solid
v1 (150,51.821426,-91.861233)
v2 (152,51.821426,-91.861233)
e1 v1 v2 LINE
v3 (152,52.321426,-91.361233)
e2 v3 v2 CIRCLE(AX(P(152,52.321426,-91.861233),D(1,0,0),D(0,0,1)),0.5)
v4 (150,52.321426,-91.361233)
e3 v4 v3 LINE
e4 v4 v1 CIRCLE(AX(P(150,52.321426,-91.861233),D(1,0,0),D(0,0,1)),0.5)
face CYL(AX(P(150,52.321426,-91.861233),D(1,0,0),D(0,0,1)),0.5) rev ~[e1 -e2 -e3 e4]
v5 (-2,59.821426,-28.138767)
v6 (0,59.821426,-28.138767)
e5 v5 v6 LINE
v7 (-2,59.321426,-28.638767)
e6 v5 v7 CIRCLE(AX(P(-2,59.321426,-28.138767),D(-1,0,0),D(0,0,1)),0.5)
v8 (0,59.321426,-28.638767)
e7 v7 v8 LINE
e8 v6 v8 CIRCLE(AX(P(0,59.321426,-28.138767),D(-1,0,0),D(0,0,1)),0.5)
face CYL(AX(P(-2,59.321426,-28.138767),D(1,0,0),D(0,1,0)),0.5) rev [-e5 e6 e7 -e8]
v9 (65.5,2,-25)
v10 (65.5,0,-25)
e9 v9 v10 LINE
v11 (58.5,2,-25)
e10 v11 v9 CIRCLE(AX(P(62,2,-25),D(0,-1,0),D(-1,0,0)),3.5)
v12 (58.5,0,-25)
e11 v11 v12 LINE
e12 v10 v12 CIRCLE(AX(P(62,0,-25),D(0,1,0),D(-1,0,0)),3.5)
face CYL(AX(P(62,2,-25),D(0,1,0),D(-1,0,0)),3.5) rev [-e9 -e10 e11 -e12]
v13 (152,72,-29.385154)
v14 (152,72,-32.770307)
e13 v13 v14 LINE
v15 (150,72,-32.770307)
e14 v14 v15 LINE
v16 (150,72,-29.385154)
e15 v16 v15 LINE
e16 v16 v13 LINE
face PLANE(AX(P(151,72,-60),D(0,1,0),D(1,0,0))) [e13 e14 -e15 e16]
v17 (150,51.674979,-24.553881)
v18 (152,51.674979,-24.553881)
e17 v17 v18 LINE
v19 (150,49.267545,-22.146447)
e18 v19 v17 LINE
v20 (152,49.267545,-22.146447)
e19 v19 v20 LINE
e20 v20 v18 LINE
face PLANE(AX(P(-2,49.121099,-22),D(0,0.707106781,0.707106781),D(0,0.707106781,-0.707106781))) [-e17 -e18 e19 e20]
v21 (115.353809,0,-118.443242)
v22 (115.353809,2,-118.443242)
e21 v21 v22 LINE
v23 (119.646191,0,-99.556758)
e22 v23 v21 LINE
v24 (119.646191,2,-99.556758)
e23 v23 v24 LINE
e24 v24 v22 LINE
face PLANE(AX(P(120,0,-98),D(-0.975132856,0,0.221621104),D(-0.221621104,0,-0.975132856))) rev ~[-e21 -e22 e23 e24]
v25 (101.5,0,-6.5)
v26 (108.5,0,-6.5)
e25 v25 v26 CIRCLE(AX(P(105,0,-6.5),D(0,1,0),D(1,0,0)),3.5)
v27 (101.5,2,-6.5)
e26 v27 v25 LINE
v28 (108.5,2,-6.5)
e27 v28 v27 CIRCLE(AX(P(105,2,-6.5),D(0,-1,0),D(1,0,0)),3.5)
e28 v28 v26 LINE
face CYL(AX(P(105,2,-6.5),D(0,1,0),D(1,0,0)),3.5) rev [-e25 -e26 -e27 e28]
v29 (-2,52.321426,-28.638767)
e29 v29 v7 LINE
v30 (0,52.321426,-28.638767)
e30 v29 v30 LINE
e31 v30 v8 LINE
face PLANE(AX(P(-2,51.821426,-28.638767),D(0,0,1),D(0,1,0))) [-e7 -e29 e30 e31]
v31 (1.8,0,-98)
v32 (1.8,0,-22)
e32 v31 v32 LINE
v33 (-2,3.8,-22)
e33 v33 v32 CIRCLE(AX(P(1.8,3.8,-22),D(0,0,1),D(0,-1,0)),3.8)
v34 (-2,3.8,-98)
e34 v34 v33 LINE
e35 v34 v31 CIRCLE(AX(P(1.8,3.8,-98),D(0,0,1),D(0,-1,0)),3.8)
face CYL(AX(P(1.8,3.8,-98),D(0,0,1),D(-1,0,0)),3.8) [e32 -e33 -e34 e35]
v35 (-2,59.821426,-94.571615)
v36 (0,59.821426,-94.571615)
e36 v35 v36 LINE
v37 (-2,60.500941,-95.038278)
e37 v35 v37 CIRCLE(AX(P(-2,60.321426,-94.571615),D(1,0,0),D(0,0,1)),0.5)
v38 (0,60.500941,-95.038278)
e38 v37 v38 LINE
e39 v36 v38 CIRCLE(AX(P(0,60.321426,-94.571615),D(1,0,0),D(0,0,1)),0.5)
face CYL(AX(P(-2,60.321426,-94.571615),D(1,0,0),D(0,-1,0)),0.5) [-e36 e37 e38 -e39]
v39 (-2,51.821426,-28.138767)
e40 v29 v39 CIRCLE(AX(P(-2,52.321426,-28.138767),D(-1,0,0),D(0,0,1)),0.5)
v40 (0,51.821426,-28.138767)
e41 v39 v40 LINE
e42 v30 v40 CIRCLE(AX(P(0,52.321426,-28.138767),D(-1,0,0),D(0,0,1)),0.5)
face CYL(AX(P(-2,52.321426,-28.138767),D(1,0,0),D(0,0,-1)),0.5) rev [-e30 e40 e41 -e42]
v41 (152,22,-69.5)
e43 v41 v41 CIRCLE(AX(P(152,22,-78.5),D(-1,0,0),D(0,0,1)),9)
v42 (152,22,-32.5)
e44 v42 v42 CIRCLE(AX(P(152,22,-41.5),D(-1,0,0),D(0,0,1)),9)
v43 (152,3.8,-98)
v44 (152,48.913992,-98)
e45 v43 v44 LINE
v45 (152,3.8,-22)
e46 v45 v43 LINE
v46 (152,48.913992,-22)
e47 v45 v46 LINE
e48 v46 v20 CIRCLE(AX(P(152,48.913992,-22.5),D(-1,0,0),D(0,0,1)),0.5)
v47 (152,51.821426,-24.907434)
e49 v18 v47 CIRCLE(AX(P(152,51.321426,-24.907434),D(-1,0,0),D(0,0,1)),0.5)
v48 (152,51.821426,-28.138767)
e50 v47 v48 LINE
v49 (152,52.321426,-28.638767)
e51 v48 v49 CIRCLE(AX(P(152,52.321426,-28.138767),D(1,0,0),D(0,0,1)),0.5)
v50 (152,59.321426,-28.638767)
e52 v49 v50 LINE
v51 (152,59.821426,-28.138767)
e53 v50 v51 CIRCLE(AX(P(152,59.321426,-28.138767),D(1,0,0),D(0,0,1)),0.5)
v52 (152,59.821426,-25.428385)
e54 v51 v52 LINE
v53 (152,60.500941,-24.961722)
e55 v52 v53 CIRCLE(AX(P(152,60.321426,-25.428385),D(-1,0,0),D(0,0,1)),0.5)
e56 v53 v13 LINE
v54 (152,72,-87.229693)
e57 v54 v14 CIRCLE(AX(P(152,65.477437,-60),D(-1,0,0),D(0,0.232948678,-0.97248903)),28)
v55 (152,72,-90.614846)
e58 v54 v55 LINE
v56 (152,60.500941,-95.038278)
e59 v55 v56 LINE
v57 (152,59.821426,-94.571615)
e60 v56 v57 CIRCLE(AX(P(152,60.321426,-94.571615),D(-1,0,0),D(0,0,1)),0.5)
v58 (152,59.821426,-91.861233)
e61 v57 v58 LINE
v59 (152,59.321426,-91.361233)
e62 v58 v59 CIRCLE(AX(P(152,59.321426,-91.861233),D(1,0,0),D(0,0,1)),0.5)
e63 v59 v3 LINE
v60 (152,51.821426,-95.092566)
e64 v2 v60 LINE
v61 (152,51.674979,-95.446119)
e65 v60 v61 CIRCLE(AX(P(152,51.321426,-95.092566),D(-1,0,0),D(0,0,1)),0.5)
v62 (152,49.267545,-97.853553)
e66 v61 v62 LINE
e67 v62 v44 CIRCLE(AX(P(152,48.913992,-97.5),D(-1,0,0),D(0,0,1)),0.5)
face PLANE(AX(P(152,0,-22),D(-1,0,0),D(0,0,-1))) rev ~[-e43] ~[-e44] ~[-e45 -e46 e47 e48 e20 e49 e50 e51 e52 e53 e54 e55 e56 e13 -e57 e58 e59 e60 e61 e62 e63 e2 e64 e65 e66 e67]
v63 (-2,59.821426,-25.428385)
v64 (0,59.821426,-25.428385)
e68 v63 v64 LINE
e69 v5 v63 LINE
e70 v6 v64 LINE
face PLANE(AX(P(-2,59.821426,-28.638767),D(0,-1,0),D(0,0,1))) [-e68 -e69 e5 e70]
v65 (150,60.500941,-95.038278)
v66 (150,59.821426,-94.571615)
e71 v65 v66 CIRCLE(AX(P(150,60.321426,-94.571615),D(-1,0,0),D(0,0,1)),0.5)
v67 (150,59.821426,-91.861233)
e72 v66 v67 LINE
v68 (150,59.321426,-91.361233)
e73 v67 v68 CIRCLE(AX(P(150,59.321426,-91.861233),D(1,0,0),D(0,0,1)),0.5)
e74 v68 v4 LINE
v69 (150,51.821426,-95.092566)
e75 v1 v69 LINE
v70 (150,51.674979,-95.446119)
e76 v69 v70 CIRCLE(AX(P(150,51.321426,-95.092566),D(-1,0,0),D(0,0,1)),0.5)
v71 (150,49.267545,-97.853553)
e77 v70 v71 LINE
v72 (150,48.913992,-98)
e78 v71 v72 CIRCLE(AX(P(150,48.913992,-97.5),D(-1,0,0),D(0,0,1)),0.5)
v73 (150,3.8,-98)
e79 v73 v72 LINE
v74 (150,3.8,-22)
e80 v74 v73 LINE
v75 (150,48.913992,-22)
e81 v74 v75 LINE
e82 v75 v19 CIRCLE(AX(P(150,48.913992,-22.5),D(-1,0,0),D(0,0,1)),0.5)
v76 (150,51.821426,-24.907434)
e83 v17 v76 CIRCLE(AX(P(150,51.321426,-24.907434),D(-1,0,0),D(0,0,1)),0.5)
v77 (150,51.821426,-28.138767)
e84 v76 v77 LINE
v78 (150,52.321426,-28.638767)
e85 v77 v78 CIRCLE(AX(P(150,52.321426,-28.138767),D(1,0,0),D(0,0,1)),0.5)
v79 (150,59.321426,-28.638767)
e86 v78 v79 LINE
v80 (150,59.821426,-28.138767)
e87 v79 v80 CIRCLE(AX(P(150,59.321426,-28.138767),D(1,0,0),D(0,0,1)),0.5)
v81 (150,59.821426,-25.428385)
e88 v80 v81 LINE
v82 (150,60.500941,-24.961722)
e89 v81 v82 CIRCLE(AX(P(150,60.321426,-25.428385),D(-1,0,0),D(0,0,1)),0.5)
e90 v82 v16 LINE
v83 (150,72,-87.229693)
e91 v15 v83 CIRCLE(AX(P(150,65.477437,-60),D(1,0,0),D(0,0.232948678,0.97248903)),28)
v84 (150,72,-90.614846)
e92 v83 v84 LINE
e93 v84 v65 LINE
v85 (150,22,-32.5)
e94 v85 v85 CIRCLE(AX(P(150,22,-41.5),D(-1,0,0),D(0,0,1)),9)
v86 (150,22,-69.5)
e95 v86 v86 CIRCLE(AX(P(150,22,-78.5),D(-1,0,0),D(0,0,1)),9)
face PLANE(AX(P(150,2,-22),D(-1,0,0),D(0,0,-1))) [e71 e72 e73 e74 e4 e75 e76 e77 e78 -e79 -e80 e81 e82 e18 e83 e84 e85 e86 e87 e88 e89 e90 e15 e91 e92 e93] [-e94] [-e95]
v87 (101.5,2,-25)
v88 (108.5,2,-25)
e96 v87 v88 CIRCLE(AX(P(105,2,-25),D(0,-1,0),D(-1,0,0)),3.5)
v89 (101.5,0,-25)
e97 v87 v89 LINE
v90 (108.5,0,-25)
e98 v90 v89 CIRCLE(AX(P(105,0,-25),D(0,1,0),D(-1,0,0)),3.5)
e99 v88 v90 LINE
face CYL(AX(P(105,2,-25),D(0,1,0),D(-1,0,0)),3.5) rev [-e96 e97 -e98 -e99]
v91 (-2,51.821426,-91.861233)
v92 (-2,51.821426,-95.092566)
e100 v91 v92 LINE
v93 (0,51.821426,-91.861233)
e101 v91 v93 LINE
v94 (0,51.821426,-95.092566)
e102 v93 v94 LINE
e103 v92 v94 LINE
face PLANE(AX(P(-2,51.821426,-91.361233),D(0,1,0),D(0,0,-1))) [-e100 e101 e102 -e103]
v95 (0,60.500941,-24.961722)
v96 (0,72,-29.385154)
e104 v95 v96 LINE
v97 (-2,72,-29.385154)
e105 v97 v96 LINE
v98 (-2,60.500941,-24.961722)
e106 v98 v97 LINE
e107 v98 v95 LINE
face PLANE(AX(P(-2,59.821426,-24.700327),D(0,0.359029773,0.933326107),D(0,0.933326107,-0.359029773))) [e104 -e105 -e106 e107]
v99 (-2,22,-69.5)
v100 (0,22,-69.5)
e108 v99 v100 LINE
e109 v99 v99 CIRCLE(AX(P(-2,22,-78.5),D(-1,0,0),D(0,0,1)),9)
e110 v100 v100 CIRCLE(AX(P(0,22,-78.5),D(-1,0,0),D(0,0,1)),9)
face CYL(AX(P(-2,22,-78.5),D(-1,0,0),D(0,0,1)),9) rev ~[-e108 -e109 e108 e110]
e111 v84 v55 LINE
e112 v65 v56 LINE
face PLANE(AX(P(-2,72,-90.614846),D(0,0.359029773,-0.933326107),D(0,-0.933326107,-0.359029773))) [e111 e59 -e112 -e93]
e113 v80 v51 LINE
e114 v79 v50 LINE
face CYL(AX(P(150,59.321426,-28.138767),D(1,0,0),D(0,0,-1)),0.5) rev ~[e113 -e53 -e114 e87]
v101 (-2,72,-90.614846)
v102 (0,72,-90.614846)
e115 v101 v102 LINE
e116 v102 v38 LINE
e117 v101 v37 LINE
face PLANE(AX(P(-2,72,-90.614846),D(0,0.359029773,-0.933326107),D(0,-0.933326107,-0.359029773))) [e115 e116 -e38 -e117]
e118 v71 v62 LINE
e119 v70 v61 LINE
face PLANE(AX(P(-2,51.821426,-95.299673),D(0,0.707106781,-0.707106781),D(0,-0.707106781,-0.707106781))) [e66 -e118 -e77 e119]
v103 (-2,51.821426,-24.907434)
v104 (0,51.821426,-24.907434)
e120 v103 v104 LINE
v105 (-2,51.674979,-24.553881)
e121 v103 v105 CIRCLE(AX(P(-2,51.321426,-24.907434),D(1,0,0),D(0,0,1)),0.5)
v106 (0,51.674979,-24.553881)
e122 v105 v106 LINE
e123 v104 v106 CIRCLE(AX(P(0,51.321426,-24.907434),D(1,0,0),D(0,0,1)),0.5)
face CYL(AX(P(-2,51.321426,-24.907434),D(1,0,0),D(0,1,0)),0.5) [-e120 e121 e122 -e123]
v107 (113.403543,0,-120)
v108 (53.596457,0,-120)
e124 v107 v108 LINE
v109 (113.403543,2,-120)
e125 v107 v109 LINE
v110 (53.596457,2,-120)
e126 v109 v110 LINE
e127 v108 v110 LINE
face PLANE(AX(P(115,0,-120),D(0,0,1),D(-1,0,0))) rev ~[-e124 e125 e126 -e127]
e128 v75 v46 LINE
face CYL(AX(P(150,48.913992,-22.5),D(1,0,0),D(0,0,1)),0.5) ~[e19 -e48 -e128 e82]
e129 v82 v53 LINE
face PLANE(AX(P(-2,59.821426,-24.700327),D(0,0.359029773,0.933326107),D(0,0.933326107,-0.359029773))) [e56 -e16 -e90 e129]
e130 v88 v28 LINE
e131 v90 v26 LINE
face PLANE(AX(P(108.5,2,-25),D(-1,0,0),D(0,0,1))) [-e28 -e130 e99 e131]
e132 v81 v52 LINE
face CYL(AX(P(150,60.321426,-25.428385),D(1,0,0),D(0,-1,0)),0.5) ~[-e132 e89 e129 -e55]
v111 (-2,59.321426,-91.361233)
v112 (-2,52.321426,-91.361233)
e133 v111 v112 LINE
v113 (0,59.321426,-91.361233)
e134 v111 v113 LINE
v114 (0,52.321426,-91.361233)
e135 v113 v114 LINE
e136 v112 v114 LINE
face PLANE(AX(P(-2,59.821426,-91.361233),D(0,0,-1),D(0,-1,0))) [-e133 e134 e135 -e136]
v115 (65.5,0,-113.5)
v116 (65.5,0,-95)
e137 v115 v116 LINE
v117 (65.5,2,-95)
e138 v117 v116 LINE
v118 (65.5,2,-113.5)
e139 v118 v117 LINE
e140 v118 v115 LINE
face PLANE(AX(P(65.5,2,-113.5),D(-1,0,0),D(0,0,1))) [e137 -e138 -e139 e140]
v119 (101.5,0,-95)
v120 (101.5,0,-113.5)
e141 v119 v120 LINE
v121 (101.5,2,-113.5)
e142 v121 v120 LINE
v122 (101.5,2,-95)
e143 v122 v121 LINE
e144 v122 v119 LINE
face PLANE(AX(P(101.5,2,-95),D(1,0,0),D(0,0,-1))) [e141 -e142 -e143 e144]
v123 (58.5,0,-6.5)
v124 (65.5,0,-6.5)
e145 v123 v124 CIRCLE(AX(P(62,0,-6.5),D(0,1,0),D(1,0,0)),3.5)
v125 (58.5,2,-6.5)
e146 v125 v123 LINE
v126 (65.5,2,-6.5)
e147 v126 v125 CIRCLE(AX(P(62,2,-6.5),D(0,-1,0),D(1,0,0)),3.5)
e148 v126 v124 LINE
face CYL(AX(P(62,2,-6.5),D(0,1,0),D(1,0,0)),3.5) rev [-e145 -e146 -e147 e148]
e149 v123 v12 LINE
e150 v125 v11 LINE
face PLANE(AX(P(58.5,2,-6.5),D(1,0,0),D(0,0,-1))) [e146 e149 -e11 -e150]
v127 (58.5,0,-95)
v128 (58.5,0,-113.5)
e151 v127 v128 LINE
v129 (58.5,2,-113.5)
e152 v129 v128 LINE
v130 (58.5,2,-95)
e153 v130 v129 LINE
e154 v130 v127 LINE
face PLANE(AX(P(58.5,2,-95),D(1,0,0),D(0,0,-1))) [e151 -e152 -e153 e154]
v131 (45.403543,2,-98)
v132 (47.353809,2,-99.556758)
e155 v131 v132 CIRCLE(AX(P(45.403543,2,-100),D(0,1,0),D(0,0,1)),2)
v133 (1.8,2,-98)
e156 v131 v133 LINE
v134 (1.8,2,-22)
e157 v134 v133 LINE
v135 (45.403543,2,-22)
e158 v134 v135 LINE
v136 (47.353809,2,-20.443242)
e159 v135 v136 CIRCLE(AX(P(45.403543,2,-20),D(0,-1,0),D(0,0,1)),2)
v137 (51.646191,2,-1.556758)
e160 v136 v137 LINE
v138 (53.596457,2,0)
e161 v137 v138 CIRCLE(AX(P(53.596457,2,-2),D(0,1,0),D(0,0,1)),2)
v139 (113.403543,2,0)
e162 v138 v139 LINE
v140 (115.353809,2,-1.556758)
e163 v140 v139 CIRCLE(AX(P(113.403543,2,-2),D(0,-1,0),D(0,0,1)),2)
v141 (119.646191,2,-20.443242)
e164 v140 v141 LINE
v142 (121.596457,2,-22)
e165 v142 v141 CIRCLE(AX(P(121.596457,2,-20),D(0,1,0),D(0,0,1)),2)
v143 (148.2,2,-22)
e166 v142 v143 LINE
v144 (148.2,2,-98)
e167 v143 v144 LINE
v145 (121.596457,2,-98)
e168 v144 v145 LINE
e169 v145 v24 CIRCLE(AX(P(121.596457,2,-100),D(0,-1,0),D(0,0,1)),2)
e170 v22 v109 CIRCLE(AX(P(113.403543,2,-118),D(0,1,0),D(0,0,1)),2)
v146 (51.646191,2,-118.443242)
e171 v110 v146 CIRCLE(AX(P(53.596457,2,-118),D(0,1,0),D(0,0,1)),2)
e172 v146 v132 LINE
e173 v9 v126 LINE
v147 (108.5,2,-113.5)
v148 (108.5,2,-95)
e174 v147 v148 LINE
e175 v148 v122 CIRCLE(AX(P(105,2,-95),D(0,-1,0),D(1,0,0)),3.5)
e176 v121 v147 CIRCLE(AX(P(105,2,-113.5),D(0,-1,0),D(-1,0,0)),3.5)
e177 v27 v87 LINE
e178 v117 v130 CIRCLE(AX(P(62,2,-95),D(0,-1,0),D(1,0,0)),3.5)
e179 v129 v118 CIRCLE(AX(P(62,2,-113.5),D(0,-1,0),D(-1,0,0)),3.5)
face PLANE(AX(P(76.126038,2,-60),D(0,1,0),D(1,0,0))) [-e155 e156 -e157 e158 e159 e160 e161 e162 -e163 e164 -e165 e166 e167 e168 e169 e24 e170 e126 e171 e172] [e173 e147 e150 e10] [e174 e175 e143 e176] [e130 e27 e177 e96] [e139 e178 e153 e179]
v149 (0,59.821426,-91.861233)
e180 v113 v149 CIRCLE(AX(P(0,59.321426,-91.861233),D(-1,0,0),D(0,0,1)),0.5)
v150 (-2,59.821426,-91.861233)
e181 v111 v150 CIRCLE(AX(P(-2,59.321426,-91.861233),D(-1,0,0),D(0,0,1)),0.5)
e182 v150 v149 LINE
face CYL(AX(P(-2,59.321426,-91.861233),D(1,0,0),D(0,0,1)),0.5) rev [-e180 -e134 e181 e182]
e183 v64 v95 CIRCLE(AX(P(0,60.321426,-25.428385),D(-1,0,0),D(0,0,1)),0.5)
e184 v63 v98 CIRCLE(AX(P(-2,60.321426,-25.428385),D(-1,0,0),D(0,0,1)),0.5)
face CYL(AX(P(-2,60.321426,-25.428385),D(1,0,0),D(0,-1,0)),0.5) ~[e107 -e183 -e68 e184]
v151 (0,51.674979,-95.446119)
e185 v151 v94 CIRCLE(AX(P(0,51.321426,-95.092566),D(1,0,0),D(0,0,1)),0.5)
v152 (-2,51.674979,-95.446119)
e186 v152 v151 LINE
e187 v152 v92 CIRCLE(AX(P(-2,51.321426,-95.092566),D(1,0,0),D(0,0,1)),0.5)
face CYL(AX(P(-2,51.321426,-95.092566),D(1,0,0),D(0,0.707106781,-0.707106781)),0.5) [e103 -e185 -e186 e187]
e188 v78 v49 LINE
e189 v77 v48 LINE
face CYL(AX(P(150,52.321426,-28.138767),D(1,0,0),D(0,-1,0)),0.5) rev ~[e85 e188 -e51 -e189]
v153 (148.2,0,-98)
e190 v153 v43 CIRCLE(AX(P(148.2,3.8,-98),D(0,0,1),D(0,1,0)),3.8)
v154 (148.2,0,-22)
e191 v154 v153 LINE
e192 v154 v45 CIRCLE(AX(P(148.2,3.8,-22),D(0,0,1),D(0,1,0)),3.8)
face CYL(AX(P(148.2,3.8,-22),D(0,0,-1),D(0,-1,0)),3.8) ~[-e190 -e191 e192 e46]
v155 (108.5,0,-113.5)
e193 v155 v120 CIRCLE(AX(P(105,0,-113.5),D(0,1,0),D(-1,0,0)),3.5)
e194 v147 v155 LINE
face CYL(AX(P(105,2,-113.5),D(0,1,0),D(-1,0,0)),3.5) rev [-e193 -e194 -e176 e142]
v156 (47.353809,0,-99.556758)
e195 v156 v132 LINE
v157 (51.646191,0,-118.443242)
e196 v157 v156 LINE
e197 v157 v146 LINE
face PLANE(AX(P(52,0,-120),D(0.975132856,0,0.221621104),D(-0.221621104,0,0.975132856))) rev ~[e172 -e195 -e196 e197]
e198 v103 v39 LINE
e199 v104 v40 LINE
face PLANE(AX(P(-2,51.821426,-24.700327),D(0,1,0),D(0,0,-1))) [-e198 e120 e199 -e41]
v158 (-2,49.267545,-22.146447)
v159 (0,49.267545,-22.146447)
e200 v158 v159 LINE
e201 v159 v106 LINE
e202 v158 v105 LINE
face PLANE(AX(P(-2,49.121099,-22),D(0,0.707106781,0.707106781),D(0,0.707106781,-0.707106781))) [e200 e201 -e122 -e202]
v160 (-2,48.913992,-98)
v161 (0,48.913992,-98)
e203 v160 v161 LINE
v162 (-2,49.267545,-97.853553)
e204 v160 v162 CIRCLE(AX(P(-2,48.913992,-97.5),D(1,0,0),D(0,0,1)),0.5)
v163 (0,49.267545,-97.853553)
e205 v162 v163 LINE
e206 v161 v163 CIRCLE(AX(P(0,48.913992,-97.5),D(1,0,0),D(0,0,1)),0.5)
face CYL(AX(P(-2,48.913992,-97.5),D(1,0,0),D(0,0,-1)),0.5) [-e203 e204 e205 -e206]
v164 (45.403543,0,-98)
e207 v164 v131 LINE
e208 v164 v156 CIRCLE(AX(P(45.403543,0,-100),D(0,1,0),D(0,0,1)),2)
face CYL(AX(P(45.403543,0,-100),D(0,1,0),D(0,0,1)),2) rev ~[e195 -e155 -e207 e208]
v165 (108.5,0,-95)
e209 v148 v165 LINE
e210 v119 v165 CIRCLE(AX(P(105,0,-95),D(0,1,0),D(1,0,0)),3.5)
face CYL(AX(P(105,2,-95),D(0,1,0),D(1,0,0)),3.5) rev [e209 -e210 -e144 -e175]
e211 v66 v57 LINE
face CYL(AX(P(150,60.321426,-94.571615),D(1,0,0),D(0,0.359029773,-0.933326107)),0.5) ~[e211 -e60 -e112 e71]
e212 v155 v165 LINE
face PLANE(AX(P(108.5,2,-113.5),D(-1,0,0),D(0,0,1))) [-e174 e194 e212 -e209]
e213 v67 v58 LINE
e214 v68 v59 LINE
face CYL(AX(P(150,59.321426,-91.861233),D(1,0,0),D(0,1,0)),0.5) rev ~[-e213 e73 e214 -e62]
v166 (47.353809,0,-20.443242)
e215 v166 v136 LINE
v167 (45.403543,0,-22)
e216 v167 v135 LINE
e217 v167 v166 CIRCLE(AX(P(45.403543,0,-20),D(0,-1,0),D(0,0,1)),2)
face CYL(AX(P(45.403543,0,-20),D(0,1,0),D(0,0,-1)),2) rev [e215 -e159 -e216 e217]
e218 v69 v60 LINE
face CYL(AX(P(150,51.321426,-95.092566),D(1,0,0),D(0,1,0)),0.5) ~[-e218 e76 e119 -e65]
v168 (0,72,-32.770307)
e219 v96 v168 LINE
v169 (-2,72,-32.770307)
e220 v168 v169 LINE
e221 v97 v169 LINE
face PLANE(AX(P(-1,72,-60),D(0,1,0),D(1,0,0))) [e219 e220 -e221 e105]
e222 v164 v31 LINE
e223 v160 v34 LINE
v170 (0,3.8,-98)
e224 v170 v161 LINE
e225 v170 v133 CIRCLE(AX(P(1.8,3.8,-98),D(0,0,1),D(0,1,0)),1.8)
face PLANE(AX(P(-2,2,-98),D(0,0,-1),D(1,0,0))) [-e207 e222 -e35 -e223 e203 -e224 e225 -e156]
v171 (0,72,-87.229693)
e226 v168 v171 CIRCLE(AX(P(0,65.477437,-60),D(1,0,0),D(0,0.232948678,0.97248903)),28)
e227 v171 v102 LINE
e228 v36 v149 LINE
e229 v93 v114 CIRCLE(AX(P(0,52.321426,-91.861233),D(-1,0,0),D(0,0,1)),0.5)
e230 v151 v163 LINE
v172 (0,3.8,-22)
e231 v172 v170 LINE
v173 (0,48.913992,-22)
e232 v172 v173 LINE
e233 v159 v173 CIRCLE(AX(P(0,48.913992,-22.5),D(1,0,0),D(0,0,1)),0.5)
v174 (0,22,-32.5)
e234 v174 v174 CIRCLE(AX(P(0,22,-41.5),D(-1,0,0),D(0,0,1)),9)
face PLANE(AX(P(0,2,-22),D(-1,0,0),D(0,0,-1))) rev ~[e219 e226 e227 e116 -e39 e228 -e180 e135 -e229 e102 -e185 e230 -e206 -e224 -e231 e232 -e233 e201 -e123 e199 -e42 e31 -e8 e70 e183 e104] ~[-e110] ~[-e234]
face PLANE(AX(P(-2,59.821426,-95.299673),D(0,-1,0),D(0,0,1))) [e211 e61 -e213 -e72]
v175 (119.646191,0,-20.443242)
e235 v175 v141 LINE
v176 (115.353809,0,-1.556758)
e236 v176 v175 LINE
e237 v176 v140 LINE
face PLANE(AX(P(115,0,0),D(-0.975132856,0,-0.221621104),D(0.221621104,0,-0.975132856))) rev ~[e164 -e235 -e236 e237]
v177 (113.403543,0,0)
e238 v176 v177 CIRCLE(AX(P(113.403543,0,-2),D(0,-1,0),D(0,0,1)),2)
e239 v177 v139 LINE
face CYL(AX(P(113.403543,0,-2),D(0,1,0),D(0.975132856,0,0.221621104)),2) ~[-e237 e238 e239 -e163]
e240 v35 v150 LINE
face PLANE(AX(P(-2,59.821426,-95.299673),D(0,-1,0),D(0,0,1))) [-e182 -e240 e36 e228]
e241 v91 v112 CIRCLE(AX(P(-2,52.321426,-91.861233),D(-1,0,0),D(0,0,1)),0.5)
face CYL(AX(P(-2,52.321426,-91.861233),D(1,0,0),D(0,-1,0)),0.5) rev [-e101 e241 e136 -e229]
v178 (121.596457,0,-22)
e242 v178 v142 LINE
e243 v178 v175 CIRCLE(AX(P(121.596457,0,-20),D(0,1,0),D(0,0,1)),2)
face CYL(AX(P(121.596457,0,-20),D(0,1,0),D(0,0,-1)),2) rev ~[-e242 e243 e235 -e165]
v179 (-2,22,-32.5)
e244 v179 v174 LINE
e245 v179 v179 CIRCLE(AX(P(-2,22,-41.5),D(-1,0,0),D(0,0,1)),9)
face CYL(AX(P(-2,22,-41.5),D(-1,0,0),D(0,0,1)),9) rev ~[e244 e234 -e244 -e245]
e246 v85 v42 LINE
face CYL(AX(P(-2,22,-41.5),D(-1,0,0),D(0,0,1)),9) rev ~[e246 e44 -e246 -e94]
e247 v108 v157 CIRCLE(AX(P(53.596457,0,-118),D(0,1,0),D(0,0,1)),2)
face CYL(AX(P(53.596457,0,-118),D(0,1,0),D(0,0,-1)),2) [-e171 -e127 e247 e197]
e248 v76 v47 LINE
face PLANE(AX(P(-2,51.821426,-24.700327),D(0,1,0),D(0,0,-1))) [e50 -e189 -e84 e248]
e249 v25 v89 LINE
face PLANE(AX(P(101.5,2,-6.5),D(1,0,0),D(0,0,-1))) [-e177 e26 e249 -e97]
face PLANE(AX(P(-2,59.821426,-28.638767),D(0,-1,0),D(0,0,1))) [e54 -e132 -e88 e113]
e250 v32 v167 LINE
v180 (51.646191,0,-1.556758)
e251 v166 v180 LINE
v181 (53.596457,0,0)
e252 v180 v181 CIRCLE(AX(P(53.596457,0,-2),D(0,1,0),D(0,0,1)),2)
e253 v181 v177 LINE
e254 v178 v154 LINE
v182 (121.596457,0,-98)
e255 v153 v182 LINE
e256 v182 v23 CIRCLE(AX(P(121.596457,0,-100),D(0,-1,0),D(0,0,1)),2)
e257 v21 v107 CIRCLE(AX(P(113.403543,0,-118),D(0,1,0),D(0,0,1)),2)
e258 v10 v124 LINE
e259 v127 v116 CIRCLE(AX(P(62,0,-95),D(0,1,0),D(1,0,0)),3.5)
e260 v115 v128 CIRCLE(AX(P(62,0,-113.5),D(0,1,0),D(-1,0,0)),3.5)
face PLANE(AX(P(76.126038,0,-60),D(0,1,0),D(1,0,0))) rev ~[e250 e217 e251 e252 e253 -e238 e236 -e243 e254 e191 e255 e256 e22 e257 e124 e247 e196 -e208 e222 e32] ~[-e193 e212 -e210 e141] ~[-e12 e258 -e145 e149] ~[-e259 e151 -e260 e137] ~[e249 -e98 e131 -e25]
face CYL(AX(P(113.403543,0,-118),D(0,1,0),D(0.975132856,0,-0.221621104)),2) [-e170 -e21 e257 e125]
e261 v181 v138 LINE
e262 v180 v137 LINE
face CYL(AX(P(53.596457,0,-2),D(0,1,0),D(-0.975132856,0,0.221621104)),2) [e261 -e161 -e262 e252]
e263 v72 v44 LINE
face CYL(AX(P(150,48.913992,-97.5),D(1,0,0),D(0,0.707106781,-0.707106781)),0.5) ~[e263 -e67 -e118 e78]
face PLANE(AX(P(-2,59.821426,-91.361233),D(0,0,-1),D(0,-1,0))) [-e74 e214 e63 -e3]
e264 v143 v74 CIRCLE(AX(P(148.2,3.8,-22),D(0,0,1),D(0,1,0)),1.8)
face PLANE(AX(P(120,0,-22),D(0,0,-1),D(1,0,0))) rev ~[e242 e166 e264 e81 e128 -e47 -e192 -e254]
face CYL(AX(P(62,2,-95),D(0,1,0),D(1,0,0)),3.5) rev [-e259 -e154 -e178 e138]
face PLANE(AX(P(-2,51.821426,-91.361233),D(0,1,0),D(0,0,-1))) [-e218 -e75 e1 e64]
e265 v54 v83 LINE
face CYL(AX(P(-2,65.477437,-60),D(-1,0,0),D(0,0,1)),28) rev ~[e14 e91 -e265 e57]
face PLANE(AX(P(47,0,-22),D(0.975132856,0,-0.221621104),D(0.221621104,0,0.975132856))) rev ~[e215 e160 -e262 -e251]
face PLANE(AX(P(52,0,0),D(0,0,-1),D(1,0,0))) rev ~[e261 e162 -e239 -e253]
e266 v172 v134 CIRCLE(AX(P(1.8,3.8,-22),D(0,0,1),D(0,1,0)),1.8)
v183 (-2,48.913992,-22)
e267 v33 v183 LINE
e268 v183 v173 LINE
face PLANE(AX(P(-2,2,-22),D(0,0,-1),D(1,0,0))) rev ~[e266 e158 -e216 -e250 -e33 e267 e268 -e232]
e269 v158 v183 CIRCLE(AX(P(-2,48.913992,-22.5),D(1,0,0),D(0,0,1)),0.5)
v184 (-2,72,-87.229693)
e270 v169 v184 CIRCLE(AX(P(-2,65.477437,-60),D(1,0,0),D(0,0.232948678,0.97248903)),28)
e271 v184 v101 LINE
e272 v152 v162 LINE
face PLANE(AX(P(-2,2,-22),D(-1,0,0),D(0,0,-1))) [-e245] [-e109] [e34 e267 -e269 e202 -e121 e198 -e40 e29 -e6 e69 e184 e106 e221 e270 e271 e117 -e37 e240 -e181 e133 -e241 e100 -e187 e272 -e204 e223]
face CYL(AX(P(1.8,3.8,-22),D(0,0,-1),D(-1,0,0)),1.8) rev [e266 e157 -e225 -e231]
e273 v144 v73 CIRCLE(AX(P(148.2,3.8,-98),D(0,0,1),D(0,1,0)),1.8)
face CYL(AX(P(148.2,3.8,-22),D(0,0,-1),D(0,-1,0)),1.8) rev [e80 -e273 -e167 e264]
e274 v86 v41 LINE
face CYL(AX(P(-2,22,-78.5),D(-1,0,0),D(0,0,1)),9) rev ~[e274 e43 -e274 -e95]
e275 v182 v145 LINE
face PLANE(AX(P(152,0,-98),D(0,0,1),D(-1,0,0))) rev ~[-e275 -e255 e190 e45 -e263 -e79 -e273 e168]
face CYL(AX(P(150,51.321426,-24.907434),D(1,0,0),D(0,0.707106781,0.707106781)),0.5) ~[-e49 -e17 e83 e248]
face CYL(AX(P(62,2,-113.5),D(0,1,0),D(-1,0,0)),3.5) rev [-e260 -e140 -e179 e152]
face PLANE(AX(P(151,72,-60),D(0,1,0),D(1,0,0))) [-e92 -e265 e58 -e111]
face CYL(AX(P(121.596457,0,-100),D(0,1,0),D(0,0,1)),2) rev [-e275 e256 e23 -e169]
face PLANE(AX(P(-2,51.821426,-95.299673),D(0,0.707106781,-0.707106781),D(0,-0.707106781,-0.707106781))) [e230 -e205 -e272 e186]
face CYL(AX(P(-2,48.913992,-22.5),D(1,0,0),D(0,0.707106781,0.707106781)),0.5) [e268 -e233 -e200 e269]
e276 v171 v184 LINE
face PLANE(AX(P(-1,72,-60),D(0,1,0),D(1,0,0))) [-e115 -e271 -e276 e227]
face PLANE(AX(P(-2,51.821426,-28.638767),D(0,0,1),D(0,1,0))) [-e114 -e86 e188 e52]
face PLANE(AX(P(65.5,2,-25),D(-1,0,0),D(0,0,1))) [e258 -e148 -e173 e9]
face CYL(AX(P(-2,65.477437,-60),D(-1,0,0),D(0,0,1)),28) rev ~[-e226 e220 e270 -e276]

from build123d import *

# Parameters (mm, degrees)
EXTRUDE_1_DEPTH     = 2
SKETCH_3_W          = 2
SKETCH_3_H          = 76
EXTRUDE_2_DEPTH     = 70
SKETCH_5_R          = 28
CUT_EXTRUDE_1_DEPTH = 209.086520467
FILLET_1_R          = 0.5
FILLET_2_R          = 1.8
FILLET_3_R          = 3.8
FILLET_4_R          = 2
SKETCH_6_R          = 9
CUT_EXTRUDE_2_DEPTH = 209.086520467
CUT_EXTRUDE_3_DEPTH = 10


with BuildPart() as part:
    # Эскиз1 → Бобышка-Вытянуть1 (new body)
    with BuildSketch(Plane(origin=(0, 0, 0), x_dir=(1, 0, 0), z_dir=(0, 1, 0))):
        Polygon((52, 0), (115, 0), (120, 22), (152, 22), (152, 98), (120, 98), (115, 120), (52, 120), (47, 98), (-2, 98), (-2, 22), (47, 22), align=None)
    extrude(amount=EXTRUDE_1_DEPTH)

    # Эскиз3 → Бобышка-Вытянуть2 (add)
    with BuildSketch(Plane(origin=(0, 2, 0), x_dir=(1, 0, 0), z_dir=(0, 1, 0))):
        with Locations((-1, 60)):
            Rectangle(SKETCH_3_W, SKETCH_3_H)
        with Locations((151, 60)):
            Rectangle(SKETCH_3_W, SKETCH_3_H)
    extrude(amount=EXTRUDE_2_DEPTH)

    # Эскиз5 → Вырез-Вытянуть1 (cut, through all)
    with BuildSketch(Plane.ZY.offset(2)):
        with Locations((-60, 65.477437004)):
            Circle(SKETCH_5_R)
        Polygon((-95.299672715, 59.821425916), (-91.361232517, 59.821425916), (-91.361232517, 51.821425916), (-95.299672715, 51.821425916), (-98, 49.121098631), (-98, 72), (-90.614846418, 72), align=None)
        Polygon((-22, 72), (-22, 49.121098631), (-24.700327285, 51.821425916), (-28.638767483, 51.821425916), (-28.638767483, 59.821425916), (-24.700327285, 59.821425916), (-29.385153582, 72), align=None)
    extrude(amount=-CUT_EXTRUDE_1_DEPTH, mode=Mode.SUBTRACT)

    # Скругление1
    fillet_1_edges = [part.edges().sort_by_distance(p)[0] for p in [
        (-1, 49.121098631, -22),
        (151, 49.121098631, -22),
        (-1, 51.821425916, -24.700327285),
        (151, 51.821425916, -24.700327285),
        (-1, 51.821425916, -28.638767483),
        (151, 51.821425916, -28.638767483),
        (-1, 59.821425916, -28.638767483),
        (151, 59.821425916, -28.638767483),
        (-1, 59.821425916, -24.700327285),
        (151, 59.821425916, -24.700327285),
        (-1, 59.821425916, -95.299672715),
        (151, 59.821425916, -95.299672715),
        (-1, 59.821425916, -91.361232517),
        (151, 59.821425916, -91.361232517),
        (-1, 51.821425916, -91.361232517),
        (151, 51.821425916, -91.361232517),
        (-1, 51.821425916, -95.299672715),
        (151, 51.821425916, -95.299672715),
        (-1, 49.121098631, -98),
        (151, 49.121098631, -98),
    ]]
    fillet(fillet_1_edges, radius=FILLET_1_R)

    # Скругление2
    fillet_2_edges = [part.edges().sort_by_distance(p)[0] for p in [
        (0, 2, -60),
        (150, 2, -60),
    ]]
    fillet(fillet_2_edges, radius=FILLET_2_R)

    # Скругление3
    fillet_3_edges = [part.edges().sort_by_distance(p)[0] for p in [
        (152, 0, -60),
        (-2, 0, -60),
    ]]
    fillet(fillet_3_edges, radius=FILLET_3_R)

    # Скругление4
    fillet_4_edges = [part.edges().sort_by_distance(p)[0] for p in [
        (115, 1, -120),
        (120, 1, -98),
        (120, 1, -22),
        (115, 1, 0),
        (52, 1, 0),
        (47, 1, -22),
        (47, 1, -98),
        (52, 1, -120),
    ]]
    fillet(fillet_4_edges, radius=FILLET_4_R)

    # Эскиз6 → Вырез-Вытянуть2 (cut, through all)
    with BuildSketch(Plane.ZY.offset(2)):
        with Locations((-78.5, 22)):
            Circle(SKETCH_6_R)
        with Locations((-41.5, 22)):
            Circle(SKETCH_6_R)
    extrude(amount=-CUT_EXTRUDE_2_DEPTH, mode=Mode.SUBTRACT)

    # Эскиз7 → Вырез-Вытянуть3 (cut)
    with BuildSketch(Plane(origin=(0, 2, 0), x_dir=(1, 0, 0), z_dir=(0, 1, 0))):
        with BuildLine():
            Line((65.5, 25), (65.5, 6.5))
            ThreePointArc((65.5, 6.5), (62, 3), (58.5, 6.5))
            Line((58.5, 6.5), (58.5, 25))
            ThreePointArc((58.5, 25), (62, 28.5), (65.5, 25))
        make_face()
        with BuildLine():
            Line((108.5, 25), (108.5, 6.5))
            ThreePointArc((108.5, 6.5), (105, 3), (101.5, 6.5))
            Line((101.5, 6.5), (101.5, 25))
            ThreePointArc((101.5, 25), (105, 28.5), (108.5, 25))
        make_face()
        with BuildLine():
            Line((101.5, 95), (101.5, 113.5))
            ThreePointArc((101.5, 113.5), (105, 117), (108.5, 113.5))
            Line((108.5, 113.5), (108.5, 95))
            ThreePointArc((108.5, 95), (105, 91.5), (101.5, 95))
        make_face()
        with BuildLine():
            Line((58.5, 95), (58.5, 113.5))
            ThreePointArc((58.5, 113.5), (62, 117), (65.5, 113.5))
            Line((65.5, 113.5), (65.5, 95))
            ThreePointArc((65.5, 95), (62, 91.5), (58.5, 95))
        make_face()
    extrude(amount=-CUT_EXTRUDE_3_DEPTH, mode=Mode.SUBTRACT)


solid = part.part
